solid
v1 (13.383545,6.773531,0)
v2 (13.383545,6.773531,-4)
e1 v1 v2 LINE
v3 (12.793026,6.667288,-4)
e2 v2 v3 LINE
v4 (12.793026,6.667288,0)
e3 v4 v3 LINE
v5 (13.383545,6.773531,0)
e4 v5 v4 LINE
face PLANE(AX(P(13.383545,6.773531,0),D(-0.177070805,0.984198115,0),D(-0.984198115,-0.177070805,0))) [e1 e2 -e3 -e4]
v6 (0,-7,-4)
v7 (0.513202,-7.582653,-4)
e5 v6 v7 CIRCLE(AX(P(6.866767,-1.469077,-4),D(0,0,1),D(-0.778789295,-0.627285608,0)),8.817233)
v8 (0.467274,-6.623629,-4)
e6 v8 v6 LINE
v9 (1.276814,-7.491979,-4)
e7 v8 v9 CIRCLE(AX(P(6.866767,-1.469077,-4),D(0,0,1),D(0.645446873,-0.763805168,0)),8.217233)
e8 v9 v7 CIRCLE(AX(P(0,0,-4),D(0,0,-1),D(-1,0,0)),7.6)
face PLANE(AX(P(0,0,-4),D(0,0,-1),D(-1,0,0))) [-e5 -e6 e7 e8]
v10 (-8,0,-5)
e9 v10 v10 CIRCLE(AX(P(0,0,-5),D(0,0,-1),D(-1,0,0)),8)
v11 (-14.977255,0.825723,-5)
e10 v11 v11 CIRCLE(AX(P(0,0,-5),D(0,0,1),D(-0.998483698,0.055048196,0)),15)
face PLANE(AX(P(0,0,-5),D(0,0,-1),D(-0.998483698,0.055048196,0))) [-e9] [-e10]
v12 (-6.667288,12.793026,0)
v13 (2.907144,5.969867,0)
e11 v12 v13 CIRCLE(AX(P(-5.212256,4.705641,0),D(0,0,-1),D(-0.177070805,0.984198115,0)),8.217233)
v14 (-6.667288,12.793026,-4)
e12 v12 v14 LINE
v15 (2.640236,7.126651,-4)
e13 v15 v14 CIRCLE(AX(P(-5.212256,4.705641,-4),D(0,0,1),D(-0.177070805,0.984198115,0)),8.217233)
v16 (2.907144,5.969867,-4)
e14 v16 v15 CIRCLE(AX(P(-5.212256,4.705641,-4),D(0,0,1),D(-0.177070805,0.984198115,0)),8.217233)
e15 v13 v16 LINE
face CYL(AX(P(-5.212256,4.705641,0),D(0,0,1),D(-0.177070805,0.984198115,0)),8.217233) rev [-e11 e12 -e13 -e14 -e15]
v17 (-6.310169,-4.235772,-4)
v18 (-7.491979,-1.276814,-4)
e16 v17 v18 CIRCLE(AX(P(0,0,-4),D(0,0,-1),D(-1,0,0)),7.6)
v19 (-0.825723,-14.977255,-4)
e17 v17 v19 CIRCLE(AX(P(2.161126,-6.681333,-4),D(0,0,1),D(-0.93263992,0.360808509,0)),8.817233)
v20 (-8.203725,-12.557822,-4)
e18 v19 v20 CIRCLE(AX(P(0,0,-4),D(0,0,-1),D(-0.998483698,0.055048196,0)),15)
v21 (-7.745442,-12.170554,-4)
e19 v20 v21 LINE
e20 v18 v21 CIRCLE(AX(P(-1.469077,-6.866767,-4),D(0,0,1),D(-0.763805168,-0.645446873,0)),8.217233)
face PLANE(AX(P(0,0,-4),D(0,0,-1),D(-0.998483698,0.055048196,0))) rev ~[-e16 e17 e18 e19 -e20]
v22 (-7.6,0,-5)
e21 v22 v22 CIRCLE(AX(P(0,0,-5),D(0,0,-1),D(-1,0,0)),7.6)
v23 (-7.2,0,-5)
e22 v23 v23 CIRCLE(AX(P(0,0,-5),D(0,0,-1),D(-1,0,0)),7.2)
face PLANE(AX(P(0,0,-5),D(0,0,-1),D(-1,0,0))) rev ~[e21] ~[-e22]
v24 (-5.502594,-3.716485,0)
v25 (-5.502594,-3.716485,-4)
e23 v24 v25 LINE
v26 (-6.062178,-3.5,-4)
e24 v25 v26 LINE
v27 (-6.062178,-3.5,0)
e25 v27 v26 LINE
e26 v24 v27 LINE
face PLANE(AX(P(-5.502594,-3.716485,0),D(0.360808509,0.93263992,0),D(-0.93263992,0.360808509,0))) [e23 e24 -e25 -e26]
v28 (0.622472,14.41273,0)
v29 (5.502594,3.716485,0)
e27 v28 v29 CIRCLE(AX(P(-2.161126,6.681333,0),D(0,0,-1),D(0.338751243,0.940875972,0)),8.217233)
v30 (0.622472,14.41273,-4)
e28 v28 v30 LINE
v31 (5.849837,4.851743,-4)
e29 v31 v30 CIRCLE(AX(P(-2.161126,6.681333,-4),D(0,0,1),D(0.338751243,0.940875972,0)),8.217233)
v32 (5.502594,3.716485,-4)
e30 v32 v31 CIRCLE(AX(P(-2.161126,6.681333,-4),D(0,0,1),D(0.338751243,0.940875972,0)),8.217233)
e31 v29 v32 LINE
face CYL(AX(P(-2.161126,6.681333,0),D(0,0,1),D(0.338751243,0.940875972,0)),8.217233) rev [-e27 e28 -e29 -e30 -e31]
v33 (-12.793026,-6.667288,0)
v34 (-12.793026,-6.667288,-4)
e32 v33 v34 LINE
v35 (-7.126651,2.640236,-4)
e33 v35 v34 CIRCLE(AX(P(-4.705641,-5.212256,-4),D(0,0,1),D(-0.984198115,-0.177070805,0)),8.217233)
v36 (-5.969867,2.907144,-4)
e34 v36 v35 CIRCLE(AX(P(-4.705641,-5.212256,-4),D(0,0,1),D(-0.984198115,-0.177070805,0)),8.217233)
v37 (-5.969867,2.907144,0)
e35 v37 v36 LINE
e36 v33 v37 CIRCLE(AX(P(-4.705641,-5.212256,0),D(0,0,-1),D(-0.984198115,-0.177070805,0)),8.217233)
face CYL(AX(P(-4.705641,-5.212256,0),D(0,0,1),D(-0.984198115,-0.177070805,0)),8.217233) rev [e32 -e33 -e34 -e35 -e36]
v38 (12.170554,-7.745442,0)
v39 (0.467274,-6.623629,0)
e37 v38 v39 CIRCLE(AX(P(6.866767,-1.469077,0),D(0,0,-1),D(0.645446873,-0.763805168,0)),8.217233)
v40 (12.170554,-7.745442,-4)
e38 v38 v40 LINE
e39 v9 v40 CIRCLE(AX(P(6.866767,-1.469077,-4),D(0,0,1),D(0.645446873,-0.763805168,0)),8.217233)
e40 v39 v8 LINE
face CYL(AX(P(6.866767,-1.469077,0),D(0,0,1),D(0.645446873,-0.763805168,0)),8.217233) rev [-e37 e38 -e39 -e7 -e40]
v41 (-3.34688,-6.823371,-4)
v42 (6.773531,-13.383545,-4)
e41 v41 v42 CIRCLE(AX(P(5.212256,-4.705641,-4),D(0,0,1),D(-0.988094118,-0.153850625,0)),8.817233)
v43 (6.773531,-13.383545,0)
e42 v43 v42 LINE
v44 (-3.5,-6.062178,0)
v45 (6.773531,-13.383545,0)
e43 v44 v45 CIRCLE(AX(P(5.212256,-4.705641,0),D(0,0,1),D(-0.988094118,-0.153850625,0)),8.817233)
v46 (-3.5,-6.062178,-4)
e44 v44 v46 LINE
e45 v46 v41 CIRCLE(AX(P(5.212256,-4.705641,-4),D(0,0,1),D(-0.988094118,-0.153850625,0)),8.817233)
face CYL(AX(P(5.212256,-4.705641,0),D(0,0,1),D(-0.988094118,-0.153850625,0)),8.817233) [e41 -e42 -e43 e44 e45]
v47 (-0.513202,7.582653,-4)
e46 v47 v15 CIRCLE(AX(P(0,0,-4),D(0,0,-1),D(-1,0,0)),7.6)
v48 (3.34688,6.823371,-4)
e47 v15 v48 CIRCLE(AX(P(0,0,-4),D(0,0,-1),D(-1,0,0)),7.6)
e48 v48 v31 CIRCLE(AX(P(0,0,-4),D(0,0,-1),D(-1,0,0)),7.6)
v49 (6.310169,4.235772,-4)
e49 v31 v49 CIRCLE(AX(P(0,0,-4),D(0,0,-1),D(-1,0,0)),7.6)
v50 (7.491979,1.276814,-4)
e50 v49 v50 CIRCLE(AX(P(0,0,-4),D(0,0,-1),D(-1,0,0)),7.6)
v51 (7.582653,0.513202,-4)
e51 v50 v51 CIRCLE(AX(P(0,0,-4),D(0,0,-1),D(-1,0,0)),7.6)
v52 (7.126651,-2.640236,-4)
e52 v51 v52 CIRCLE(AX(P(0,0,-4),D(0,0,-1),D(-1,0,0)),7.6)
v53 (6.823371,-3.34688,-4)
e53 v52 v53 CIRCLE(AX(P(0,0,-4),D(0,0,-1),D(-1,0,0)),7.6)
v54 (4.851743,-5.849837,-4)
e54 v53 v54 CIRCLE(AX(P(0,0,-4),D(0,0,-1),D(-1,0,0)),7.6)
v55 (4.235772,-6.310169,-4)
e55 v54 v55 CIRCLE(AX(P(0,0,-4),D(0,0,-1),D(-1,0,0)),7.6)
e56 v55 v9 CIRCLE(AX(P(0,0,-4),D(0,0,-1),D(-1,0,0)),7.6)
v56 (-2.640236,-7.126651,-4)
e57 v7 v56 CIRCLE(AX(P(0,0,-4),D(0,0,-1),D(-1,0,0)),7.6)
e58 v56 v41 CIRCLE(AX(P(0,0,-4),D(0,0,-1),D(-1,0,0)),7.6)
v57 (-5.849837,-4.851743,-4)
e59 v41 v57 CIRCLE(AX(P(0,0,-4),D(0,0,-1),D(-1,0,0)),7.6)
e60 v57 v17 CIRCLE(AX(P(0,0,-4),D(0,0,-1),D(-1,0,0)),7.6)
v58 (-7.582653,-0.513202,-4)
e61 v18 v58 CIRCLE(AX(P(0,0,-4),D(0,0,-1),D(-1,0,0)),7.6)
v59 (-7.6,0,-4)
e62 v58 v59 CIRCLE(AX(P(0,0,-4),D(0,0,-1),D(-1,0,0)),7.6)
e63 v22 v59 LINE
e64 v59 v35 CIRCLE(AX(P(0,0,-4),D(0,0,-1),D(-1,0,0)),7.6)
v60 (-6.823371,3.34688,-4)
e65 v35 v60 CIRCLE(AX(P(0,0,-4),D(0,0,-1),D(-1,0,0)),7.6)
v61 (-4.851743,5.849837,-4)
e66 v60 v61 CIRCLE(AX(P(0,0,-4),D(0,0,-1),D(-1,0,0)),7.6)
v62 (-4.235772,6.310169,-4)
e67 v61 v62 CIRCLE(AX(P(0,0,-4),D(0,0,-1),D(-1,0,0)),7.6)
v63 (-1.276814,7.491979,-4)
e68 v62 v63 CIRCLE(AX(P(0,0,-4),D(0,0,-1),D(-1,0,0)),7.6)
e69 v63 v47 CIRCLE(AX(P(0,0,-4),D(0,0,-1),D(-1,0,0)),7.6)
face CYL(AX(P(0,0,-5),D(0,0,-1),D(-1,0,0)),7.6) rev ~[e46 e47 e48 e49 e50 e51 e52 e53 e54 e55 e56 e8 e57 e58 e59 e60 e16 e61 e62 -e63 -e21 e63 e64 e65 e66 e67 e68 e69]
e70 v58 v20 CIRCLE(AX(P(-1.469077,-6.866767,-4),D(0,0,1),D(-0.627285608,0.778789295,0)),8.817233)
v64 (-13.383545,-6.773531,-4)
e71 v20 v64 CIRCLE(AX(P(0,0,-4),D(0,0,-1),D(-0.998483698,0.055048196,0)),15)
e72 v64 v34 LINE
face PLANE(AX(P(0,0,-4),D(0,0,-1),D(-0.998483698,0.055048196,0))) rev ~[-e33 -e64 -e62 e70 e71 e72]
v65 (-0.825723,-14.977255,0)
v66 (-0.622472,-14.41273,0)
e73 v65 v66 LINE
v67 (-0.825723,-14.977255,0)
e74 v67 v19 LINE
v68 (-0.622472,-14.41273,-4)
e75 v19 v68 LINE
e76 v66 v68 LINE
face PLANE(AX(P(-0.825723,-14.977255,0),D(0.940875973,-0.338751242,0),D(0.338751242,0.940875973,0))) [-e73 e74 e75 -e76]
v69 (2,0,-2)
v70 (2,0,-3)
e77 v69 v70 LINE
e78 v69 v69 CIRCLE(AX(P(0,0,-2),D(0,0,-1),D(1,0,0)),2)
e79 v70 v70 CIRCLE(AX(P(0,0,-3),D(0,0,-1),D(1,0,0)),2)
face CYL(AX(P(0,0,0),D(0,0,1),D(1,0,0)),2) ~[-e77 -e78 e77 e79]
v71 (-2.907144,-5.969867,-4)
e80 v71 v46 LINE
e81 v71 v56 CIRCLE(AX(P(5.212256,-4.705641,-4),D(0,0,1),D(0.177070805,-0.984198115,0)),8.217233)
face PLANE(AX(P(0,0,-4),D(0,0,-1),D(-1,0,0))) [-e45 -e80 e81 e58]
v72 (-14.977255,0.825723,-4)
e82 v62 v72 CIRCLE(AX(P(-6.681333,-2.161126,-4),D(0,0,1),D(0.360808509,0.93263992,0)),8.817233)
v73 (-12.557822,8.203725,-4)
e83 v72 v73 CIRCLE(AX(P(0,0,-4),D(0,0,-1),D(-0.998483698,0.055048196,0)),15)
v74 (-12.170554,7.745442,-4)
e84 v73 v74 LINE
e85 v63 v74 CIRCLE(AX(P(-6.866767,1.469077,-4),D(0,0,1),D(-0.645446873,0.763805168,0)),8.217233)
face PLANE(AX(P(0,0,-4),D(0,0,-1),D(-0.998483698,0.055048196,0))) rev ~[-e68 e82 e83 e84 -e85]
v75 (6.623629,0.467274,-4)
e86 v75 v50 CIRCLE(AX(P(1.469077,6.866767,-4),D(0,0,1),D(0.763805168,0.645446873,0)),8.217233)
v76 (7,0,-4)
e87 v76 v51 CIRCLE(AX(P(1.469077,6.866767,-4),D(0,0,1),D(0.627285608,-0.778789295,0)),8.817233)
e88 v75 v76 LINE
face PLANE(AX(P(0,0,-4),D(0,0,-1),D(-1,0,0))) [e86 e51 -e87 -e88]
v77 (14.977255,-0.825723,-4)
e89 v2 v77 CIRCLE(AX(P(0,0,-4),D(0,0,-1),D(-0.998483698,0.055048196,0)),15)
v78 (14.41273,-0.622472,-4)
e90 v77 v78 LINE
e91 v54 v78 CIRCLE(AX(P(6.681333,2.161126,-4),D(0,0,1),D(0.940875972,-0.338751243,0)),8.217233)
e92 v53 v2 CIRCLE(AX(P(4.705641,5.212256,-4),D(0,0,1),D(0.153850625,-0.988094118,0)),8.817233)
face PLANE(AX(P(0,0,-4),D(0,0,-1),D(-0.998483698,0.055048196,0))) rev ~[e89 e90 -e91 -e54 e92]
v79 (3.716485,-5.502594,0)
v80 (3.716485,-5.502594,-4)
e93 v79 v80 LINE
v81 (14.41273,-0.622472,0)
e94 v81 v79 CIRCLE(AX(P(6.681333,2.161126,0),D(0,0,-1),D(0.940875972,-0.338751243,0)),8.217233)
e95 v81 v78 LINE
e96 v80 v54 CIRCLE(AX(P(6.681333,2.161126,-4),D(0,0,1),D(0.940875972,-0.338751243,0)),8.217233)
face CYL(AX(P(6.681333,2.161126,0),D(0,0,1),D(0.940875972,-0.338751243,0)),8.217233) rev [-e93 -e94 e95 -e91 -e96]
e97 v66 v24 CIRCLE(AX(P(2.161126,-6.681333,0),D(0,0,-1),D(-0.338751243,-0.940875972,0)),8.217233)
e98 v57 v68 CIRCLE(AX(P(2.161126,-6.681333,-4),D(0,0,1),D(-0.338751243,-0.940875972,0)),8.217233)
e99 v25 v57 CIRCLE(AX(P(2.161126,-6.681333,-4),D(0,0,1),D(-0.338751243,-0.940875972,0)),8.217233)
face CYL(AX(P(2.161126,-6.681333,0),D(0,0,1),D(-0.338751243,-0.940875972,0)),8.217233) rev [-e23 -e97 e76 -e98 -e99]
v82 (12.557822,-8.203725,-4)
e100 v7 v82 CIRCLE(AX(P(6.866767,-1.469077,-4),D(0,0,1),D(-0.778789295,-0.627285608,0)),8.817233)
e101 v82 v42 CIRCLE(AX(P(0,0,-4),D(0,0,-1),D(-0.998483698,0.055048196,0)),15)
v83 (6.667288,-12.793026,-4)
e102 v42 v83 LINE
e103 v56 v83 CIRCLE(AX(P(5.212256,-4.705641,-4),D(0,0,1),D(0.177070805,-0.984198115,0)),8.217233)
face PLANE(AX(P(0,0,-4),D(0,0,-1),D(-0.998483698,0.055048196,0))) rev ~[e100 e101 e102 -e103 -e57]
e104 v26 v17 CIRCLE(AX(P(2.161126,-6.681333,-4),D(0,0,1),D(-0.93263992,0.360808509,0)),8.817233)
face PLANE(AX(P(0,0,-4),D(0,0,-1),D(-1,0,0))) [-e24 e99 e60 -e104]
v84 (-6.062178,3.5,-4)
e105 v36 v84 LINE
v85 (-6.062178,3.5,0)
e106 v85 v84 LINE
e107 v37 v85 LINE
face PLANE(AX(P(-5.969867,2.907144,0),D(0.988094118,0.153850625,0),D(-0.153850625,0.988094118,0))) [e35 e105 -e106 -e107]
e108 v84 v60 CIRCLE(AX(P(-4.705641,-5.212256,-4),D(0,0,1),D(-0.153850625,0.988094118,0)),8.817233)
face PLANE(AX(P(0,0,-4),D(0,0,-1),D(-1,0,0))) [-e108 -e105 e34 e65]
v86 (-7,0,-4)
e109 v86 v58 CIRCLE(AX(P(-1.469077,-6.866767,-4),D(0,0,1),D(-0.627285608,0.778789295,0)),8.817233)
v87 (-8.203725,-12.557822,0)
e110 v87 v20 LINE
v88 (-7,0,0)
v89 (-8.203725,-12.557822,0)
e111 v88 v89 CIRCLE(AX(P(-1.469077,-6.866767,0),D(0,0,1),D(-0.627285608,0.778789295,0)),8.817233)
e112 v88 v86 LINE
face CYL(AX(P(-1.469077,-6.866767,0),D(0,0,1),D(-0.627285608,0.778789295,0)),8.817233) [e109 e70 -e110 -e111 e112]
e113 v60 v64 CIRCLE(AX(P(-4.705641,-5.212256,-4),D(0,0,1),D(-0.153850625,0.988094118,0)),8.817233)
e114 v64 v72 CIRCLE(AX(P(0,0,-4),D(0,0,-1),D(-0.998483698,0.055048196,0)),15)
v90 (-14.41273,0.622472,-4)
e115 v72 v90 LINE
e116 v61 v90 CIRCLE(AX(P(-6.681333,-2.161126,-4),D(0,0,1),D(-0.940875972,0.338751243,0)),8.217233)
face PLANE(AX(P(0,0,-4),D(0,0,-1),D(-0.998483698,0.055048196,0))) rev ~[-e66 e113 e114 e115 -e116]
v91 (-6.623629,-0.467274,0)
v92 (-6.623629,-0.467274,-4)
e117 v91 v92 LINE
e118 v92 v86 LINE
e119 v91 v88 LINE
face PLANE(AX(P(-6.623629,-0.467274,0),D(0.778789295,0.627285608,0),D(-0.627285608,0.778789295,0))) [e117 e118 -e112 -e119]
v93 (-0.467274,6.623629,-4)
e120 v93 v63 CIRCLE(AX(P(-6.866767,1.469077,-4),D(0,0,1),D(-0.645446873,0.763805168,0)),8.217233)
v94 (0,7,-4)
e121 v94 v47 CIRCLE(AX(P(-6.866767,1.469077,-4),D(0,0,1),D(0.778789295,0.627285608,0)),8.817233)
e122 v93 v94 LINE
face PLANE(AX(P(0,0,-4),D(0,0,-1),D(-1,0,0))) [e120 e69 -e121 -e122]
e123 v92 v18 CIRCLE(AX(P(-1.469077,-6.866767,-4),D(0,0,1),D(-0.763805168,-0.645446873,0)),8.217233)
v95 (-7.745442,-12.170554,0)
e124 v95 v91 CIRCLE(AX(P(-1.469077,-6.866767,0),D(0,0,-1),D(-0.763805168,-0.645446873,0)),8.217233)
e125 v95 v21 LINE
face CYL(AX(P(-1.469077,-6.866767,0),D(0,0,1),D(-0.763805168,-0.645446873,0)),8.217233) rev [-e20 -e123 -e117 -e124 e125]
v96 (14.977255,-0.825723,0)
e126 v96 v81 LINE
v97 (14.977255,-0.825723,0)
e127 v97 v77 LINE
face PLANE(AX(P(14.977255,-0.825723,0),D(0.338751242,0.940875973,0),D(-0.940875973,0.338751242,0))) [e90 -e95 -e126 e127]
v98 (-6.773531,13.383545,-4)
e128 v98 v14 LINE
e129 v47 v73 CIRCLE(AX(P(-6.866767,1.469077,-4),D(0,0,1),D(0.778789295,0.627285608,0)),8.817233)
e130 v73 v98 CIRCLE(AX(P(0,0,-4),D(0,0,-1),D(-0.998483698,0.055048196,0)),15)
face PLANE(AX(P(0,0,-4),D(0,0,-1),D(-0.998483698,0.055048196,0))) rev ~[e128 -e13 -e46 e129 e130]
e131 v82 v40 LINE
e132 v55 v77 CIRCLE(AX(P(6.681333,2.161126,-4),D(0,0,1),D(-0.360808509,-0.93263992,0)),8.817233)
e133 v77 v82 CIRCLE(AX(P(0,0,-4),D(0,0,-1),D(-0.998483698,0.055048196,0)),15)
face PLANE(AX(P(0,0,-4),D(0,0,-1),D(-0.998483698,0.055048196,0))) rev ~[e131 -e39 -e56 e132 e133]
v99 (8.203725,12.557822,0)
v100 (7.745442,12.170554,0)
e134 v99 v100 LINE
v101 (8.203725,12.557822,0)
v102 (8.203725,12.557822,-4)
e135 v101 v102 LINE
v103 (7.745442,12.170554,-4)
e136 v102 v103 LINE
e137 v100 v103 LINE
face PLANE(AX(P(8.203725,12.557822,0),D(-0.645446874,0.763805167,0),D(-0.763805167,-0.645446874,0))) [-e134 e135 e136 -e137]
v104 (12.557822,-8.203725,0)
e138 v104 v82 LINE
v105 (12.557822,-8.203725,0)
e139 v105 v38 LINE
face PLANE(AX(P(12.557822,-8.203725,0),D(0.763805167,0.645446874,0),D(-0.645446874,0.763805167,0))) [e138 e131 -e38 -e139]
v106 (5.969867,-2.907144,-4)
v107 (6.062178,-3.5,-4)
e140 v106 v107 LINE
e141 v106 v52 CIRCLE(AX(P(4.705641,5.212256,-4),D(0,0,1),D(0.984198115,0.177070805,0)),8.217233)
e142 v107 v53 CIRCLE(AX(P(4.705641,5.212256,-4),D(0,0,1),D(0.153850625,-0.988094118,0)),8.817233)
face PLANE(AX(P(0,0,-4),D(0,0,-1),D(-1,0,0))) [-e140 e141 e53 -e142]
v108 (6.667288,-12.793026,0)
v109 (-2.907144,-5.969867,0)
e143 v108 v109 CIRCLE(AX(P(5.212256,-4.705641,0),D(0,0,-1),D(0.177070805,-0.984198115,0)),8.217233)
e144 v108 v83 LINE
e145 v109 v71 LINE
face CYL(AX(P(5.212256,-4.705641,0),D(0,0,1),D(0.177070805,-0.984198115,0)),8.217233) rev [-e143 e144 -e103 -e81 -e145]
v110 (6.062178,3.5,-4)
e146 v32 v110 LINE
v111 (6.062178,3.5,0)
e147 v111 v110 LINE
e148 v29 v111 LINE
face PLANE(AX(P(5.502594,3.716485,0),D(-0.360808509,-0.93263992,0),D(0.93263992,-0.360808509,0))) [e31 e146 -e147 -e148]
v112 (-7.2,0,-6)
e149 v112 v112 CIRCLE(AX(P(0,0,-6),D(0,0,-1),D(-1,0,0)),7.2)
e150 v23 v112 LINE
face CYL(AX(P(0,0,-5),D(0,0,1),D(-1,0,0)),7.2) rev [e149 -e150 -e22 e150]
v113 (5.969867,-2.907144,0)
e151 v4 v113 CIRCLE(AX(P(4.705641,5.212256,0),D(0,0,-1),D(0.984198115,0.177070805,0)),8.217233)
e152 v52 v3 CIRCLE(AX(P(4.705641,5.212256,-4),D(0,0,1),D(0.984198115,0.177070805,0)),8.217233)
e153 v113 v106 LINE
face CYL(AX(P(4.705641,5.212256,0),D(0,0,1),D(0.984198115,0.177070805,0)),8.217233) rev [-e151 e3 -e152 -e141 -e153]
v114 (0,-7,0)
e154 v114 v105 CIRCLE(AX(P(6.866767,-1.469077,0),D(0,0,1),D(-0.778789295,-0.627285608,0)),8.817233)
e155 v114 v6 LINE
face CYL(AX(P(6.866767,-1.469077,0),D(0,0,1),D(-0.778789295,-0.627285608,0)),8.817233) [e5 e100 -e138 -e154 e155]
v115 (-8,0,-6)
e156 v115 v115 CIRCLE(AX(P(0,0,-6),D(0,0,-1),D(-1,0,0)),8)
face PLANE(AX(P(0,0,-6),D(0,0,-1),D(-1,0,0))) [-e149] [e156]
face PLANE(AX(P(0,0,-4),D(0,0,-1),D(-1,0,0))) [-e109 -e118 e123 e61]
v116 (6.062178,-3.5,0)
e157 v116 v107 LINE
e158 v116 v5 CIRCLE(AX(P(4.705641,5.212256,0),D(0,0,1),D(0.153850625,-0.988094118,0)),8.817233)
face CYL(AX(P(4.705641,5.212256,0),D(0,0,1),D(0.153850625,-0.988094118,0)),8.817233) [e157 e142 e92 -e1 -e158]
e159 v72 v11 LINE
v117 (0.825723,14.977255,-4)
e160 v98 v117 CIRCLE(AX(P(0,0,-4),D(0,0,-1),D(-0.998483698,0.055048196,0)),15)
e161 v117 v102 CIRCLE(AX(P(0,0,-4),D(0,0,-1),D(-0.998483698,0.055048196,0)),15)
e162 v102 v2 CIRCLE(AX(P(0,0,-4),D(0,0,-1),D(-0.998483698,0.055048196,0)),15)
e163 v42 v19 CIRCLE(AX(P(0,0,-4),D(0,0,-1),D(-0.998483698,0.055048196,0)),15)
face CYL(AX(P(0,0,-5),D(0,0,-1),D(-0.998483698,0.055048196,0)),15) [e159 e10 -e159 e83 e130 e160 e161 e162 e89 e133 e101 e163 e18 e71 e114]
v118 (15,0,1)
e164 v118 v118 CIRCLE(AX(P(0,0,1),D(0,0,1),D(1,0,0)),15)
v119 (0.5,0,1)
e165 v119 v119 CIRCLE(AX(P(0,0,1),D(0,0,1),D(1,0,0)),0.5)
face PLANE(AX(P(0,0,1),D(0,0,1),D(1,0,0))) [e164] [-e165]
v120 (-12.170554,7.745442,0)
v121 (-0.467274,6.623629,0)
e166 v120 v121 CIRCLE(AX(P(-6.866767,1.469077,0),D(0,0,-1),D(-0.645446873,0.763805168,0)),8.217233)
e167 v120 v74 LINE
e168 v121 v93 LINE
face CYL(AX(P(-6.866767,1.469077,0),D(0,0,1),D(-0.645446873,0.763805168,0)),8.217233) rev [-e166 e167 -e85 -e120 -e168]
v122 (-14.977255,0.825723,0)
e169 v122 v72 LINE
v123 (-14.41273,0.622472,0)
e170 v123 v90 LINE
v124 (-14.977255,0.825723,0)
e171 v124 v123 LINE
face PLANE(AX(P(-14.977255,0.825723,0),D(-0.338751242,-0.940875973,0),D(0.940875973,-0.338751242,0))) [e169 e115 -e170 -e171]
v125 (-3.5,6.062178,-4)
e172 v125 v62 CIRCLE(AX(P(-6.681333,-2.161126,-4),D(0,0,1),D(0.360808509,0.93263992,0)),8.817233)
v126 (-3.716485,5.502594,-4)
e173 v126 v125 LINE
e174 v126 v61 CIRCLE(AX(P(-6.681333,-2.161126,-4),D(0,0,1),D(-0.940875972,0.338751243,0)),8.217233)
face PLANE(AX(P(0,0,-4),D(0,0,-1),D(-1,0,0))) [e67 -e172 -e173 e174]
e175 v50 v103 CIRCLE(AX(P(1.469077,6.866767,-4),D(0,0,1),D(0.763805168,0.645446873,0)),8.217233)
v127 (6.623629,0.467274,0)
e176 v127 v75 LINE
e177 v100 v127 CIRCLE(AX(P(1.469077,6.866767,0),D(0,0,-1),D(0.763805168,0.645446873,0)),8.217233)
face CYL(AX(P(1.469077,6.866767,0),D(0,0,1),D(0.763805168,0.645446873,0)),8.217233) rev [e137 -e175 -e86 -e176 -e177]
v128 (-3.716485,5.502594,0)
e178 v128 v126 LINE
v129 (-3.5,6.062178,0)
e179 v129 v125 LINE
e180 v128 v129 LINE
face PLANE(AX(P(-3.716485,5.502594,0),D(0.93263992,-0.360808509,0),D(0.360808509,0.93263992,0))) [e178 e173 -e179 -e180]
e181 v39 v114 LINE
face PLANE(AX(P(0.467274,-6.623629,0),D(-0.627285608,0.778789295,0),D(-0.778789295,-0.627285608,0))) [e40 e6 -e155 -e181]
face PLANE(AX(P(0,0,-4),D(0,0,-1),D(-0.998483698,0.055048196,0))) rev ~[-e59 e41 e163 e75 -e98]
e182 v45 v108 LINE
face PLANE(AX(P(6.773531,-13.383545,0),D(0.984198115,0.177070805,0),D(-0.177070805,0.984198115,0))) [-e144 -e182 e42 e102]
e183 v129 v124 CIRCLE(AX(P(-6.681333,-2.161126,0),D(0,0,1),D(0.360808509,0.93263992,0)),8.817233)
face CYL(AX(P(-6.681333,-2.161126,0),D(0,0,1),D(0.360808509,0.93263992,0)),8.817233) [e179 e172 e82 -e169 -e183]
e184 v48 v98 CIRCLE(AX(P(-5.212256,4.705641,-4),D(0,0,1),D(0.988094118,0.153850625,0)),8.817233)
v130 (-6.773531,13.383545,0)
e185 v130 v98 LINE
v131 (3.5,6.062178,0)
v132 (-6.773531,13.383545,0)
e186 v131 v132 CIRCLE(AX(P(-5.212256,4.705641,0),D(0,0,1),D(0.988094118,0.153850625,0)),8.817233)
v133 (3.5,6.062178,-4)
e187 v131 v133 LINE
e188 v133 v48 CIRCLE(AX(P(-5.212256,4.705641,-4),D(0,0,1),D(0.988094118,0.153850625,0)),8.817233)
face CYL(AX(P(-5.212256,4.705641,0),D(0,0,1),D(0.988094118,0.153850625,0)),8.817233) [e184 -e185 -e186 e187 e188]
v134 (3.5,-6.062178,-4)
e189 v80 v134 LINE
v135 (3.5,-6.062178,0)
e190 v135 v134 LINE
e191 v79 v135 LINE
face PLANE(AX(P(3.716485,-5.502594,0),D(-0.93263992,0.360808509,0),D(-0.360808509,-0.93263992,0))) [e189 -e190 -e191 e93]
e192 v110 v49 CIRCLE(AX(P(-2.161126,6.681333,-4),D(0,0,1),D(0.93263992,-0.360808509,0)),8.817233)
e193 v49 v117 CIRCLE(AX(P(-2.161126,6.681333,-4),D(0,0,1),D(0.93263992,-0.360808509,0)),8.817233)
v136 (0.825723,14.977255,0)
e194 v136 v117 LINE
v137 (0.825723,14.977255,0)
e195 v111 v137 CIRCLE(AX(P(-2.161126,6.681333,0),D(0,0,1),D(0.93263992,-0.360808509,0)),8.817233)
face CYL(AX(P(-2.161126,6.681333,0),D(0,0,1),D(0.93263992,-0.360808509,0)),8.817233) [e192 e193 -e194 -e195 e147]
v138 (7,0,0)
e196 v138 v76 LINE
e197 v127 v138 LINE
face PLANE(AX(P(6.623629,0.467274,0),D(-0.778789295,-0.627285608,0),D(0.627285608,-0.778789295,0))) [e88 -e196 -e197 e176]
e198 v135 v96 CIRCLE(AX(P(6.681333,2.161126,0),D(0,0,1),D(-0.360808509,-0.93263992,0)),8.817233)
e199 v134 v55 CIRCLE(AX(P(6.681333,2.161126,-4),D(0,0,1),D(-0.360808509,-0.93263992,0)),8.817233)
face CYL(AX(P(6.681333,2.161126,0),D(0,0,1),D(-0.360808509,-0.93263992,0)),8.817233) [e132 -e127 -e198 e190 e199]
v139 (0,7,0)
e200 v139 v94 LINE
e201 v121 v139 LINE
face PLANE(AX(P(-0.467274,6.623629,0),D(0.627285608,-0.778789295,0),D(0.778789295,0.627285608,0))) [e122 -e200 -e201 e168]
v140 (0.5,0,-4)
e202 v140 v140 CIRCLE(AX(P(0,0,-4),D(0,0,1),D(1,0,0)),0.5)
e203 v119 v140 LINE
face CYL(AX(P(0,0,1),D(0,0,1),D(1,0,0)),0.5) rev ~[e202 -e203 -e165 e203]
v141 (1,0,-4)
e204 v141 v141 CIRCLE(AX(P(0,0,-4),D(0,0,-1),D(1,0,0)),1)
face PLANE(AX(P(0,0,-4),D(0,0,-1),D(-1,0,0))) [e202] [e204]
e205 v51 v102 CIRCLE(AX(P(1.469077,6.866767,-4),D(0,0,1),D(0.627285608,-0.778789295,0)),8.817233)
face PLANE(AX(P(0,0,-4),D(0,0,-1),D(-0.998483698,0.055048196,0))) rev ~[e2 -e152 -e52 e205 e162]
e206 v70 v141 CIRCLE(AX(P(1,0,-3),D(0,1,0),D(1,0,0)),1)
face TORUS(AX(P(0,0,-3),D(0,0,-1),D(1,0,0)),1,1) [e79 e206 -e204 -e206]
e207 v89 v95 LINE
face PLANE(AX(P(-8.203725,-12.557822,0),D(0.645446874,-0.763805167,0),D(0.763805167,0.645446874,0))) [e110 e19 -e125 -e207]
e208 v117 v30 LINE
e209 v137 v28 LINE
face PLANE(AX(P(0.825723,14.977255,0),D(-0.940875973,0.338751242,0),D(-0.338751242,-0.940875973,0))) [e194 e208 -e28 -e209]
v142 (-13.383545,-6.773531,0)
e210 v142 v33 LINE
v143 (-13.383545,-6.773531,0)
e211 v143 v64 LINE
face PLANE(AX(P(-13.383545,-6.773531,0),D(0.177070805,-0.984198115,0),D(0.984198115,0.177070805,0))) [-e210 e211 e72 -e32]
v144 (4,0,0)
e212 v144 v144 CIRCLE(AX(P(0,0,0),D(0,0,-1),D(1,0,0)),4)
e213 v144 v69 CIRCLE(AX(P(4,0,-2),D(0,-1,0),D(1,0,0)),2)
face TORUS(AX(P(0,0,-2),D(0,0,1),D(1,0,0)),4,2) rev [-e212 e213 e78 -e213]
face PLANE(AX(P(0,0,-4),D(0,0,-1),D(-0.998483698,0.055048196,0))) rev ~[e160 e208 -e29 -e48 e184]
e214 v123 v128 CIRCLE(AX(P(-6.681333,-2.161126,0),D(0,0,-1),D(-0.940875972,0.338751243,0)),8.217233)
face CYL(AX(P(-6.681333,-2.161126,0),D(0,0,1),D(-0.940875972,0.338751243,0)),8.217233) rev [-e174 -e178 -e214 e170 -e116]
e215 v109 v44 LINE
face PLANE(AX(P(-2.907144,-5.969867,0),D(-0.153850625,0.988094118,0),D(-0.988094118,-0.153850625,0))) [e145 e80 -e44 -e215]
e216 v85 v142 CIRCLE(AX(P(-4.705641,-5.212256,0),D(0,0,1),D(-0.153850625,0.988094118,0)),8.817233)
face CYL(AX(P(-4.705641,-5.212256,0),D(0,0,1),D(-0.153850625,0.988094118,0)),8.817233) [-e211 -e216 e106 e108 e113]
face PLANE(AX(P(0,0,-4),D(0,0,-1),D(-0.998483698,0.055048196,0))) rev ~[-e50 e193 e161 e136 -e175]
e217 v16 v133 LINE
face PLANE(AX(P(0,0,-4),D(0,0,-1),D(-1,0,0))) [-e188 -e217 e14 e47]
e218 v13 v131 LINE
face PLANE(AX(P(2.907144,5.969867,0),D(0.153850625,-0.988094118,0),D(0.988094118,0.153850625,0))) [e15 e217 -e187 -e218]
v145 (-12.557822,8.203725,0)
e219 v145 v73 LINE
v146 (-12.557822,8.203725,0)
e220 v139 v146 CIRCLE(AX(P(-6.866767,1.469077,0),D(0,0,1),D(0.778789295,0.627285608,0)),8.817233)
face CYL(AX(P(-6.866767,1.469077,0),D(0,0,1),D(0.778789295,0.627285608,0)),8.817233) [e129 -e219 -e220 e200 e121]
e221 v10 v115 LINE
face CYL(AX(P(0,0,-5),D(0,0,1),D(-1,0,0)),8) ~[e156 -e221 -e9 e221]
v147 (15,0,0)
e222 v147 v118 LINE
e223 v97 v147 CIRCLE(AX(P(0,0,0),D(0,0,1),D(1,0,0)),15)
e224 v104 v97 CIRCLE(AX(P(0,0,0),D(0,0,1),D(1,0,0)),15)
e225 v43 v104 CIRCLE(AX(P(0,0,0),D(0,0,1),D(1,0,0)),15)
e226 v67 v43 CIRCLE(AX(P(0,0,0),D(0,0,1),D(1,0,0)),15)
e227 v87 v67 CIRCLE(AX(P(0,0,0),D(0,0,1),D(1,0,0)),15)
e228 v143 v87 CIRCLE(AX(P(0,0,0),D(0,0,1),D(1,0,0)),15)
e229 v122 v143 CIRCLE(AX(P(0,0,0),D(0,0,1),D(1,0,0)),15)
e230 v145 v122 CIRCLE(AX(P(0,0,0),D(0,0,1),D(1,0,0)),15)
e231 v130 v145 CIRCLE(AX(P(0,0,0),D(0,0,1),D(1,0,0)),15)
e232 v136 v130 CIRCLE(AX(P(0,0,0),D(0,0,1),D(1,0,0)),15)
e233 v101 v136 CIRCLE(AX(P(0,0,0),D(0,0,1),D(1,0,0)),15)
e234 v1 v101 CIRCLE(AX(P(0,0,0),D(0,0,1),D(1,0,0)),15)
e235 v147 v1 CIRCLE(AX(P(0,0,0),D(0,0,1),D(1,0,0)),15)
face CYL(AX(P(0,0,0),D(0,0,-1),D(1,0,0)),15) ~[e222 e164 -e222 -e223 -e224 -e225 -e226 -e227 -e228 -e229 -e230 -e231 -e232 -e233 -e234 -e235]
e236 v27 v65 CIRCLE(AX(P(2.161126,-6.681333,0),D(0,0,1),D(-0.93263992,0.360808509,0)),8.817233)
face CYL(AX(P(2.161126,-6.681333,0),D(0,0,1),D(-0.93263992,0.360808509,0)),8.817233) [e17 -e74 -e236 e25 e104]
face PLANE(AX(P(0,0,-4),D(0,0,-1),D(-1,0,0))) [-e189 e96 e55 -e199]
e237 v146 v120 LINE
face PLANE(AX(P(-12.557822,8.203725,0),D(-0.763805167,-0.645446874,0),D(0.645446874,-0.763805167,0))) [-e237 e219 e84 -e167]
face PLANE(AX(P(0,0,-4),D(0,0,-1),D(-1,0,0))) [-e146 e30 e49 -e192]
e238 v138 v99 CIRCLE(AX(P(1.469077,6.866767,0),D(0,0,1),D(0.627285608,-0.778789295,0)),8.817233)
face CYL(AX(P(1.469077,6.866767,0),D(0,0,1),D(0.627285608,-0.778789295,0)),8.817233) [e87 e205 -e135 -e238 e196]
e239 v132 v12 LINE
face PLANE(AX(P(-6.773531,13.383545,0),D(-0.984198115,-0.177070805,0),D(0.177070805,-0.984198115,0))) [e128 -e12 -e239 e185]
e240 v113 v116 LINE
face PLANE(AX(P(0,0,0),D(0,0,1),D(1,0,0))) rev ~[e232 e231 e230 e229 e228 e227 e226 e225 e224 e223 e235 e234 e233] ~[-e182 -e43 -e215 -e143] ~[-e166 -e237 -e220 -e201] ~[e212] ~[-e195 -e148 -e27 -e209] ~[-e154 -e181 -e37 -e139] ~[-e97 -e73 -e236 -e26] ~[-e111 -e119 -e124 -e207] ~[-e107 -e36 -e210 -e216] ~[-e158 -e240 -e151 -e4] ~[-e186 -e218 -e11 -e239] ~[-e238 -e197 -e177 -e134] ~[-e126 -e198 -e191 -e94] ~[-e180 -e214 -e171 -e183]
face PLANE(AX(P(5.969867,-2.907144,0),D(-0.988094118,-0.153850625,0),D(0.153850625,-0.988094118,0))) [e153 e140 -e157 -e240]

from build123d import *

# Parameters (mm, degrees)
SKETCH_1_R          = 15
EXTRUDE_1_DEPTH     = 1
EXTRUDE_4_DEPTH     = 5
SKETCH_3_R          = 2
EXTRUDE_2_DEPTH     = 4
FILLET_1_R          = 2
FILLET_2_R          = 1
SKETCH_4_R          = 0.5
CUT_EXTRUDE_1_DEPTH = 5
SKETCH_5_R          = 15
EXTRUDE_3_DEPTH     = 1
SKETCH_6_R          = 8
SKETCH_6_R_2        = 7.2
EXTRUDE_4_2_DEPTH   = 1
SKETCH_7_R          = 7.6
CUT_EXTRUDE_2_DEPTH = 1


with BuildPart() as part:
    # 草图1 → 凸台-拉伸1 (new body)
    with BuildSketch(Plane.XY):
        Circle(SKETCH_1_R)
    extrude(amount=EXTRUDE_1_DEPTH)

    # 草图2 → Extrude 4 (add)
    with BuildSketch(Plane(origin=(0, 0, 0), x_dir=(-1, 0, 0), z_dir=(0, 0, -1))):
        with BuildLine():
            ThreePointArc((0, 7), (6.025450773, 10.246079868), (12.557822256, 8.203724775))
            Line((12.557822256, 8.203724775), (12.170554132, 7.745441675))
            ThreePointArc((12.170554132, 7.745441675), (6.082701111, 9.648817447), (0.467273577, 6.623628635))
            Line((0.467273577, 6.623628635), (0, 7))
        make_face()
        with BuildLine():
            ThreePointArc((3.5, 6.062177826), (10.341233372, 5.860640068), (14.977255477, 0.825722933))
            Line((14.977255477, 0.825722933), (14.412729894, 0.622472188))
            ThreePointArc((14.412729894, 0.622472188), (10.092182409, 5.31477047), (3.716485105, 5.502593875))
            Line((3.716485105, 5.502593875), (3.5, 6.062177826))
        make_face()
        with BuildLine():
            ThreePointArc((6.062177826, 3.5), (11.886090841, -0.095153505), (13.383545189, -6.773530702))
            Line((13.383545189, -6.773530702), (12.79302632, -6.667288219))
            ThreePointArc((12.79302632, -6.667288219), (11.397471581, -0.443364962), (5.969867451, 2.907143529))
            Line((5.969867451, 2.907143529), (6.062177826, 3.5))
        make_face()
        with BuildLine():
            ThreePointArc((7, 0), (10.246079868, -6.025450773), (8.203724775, -12.557822256))
            Line((8.203724775, -12.557822256), (7.745441675, -12.170554132))
            ThreePointArc((7.745441675, -12.170554132), (9.648817447, -6.082701111), (6.623628635, -0.467273577))
            Line((6.623628635, -0.467273577), (7, 0))
        make_face()
        with BuildLine():
            ThreePointArc((6.062177826, -3.5), (5.860640068, -10.341233372), (0.825722933, -14.977255477))
            Line((0.825722933, -14.977255477), (0.622472188, -14.412729894))
            ThreePointArc((0.622472188, -14.412729894), (5.31477047, -10.092182409), (5.502593875, -3.716485105))
            Line((5.502593875, -3.716485105), (6.062177826, -3.5))
        make_face()
        with BuildLine():
            ThreePointArc((3.5, -6.062177826), (-0.095153505, -11.886090841), (-6.773530702, -13.383545189))
            Line((-6.773530702, -13.383545189), (-6.667288219, -12.79302632))
            ThreePointArc((-6.667288219, -12.79302632), (-0.443364962, -11.397471581), (2.907143529, -5.969867451))
            Line((2.907143529, -5.969867451), (3.5, -6.062177826))
        make_face()
        with BuildLine():
            ThreePointArc((0, -7), (-6.025450773, -10.246079868), (-12.557822256, -8.203724775))
            Line((-12.557822256, -8.203724775), (-12.170554132, -7.745441675))
            ThreePointArc((-12.170554132, -7.745441675), (-6.082701111, -9.648817447), (-0.467273577, -6.623628635))
            Line((-0.467273577, -6.623628635), (0, -7))
        make_face()
        with BuildLine():
            ThreePointArc((-3.5, -6.062177826), (-10.341233372, -5.860640068), (-14.977255477, -0.825722933))
            Line((-14.977255477, -0.825722933), (-14.412729894, -0.622472188))
            ThreePointArc((-14.412729894, -0.622472188), (-10.092182409, -5.31477047), (-3.716485105, -5.502593875))
            Line((-3.716485105, -5.502593875), (-3.5, -6.062177826))
        make_face()
        with BuildLine():
            ThreePointArc((-6.062177826, -3.5), (-11.886090841, 0.095153505), (-13.383545189, 6.773530702))
            Line((-13.383545189, 6.773530702), (-12.79302632, 6.667288219))
            ThreePointArc((-12.79302632, 6.667288219), (-11.397471581, 0.443364962), (-5.969867451, -2.907143529))
            Line((-5.969867451, -2.907143529), (-6.062177826, -3.5))
        make_face()
        with BuildLine():
            ThreePointArc((-7, 0), (-10.246079868, 6.025450773), (-8.203724775, 12.557822256))
            Line((-8.203724775, 12.557822256), (-7.745441675, 12.170554132))
            ThreePointArc((-7.745441675, 12.170554132), (-9.648817447, 6.082701111), (-6.623628635, 0.467273577))
            Line((-6.623628635, 0.467273577), (-7, 0))
        make_face()
        with BuildLine():
            ThreePointArc((-6.062177826, 3.5), (-5.860640068, 10.341233372), (-0.825722933, 14.977255477))
            Line((-0.825722933, 14.977255477), (-0.622472188, 14.412729894))
            ThreePointArc((-0.622472188, 14.412729894), (-5.31477047, 10.092182409), (-5.502593875, 3.716485105))
            Line((-5.502593875, 3.716485105), (-6.062177826, 3.5))
        make_face()
        with BuildLine():
            ThreePointArc((-3.5, 6.062177826), (0.095153505, 11.886090841), (6.773530702, 13.383545189))
            Line((6.773530702, 13.383545189), (6.667288219, 12.79302632))
            ThreePointArc((6.667288219, 12.79302632), (0.443364962, 11.397471581), (-2.907143529, 5.969867451))
            Line((-2.907143529, 5.969867451), (-3.5, 6.062177826))
        make_face()
    extrude(amount=EXTRUDE_4_DEPTH)

    # 草图3 → 凸台-拉伸2 (add)
    with BuildSketch(Plane(origin=(0, 0, 0), x_dir=(-1, 0, 0), z_dir=(0, 0, -1))):
        with Locations(Location((0, 0, 0), (0, 0, 180))):
            Circle(SKETCH_3_R)
    extrude(amount=EXTRUDE_2_DEPTH)

    # 圆角1
    fillet_1_edges = [part.edges().sort_by_distance(p)[0] for p in [
        (-2, 0, 0),
    ]]
    fillet(fillet_1_edges, radius=FILLET_1_R)

    # 圆角2
    fillet_2_edges = [part.edges().sort_by_distance(p)[0] for p in [
        (-2, 0, -4),
    ]]
    fillet(fillet_2_edges, radius=FILLET_2_R)

    # 草图4 → 切除-拉伸1 (cut)
    with BuildSketch(Plane.XY.offset(1)):
        Circle(SKETCH_4_R)
    extrude(amount=-CUT_EXTRUDE_1_DEPTH, mode=Mode.SUBTRACT)

    # 草图5 → 凸台-拉伸3 (add)
    with BuildSketch(Plane(origin=(0, 0, -5), x_dir=(-1, 0, 0), z_dir=(0, 0, -1))):
        with Locations(Location((0, 0, 0), (0, 0, 3.155624395))):
            Circle(SKETCH_5_R)
    extrude(amount=-EXTRUDE_3_DEPTH)

    # 草图6 → Extrude 4 2 (add)
    with BuildSketch(Plane(origin=(0, 0, -5), x_dir=(-1, 0, 0), z_dir=(0, 0, -1))):
        Circle(SKETCH_6_R)
        Circle(SKETCH_6_R_2, mode=Mode.SUBTRACT)
    extrude(amount=EXTRUDE_4_2_DEPTH)

    # 草图7 → 切除-拉伸2 (cut)
    with BuildSketch(Plane(origin=(0, 0, -5), x_dir=(-1, 0, 0), z_dir=(0, 0, -1))):
        Circle(SKETCH_7_R)
    extrude(amount=-CUT_EXTRUDE_2_DEPTH, mode=Mode.SUBTRACT)


solid = part.part
